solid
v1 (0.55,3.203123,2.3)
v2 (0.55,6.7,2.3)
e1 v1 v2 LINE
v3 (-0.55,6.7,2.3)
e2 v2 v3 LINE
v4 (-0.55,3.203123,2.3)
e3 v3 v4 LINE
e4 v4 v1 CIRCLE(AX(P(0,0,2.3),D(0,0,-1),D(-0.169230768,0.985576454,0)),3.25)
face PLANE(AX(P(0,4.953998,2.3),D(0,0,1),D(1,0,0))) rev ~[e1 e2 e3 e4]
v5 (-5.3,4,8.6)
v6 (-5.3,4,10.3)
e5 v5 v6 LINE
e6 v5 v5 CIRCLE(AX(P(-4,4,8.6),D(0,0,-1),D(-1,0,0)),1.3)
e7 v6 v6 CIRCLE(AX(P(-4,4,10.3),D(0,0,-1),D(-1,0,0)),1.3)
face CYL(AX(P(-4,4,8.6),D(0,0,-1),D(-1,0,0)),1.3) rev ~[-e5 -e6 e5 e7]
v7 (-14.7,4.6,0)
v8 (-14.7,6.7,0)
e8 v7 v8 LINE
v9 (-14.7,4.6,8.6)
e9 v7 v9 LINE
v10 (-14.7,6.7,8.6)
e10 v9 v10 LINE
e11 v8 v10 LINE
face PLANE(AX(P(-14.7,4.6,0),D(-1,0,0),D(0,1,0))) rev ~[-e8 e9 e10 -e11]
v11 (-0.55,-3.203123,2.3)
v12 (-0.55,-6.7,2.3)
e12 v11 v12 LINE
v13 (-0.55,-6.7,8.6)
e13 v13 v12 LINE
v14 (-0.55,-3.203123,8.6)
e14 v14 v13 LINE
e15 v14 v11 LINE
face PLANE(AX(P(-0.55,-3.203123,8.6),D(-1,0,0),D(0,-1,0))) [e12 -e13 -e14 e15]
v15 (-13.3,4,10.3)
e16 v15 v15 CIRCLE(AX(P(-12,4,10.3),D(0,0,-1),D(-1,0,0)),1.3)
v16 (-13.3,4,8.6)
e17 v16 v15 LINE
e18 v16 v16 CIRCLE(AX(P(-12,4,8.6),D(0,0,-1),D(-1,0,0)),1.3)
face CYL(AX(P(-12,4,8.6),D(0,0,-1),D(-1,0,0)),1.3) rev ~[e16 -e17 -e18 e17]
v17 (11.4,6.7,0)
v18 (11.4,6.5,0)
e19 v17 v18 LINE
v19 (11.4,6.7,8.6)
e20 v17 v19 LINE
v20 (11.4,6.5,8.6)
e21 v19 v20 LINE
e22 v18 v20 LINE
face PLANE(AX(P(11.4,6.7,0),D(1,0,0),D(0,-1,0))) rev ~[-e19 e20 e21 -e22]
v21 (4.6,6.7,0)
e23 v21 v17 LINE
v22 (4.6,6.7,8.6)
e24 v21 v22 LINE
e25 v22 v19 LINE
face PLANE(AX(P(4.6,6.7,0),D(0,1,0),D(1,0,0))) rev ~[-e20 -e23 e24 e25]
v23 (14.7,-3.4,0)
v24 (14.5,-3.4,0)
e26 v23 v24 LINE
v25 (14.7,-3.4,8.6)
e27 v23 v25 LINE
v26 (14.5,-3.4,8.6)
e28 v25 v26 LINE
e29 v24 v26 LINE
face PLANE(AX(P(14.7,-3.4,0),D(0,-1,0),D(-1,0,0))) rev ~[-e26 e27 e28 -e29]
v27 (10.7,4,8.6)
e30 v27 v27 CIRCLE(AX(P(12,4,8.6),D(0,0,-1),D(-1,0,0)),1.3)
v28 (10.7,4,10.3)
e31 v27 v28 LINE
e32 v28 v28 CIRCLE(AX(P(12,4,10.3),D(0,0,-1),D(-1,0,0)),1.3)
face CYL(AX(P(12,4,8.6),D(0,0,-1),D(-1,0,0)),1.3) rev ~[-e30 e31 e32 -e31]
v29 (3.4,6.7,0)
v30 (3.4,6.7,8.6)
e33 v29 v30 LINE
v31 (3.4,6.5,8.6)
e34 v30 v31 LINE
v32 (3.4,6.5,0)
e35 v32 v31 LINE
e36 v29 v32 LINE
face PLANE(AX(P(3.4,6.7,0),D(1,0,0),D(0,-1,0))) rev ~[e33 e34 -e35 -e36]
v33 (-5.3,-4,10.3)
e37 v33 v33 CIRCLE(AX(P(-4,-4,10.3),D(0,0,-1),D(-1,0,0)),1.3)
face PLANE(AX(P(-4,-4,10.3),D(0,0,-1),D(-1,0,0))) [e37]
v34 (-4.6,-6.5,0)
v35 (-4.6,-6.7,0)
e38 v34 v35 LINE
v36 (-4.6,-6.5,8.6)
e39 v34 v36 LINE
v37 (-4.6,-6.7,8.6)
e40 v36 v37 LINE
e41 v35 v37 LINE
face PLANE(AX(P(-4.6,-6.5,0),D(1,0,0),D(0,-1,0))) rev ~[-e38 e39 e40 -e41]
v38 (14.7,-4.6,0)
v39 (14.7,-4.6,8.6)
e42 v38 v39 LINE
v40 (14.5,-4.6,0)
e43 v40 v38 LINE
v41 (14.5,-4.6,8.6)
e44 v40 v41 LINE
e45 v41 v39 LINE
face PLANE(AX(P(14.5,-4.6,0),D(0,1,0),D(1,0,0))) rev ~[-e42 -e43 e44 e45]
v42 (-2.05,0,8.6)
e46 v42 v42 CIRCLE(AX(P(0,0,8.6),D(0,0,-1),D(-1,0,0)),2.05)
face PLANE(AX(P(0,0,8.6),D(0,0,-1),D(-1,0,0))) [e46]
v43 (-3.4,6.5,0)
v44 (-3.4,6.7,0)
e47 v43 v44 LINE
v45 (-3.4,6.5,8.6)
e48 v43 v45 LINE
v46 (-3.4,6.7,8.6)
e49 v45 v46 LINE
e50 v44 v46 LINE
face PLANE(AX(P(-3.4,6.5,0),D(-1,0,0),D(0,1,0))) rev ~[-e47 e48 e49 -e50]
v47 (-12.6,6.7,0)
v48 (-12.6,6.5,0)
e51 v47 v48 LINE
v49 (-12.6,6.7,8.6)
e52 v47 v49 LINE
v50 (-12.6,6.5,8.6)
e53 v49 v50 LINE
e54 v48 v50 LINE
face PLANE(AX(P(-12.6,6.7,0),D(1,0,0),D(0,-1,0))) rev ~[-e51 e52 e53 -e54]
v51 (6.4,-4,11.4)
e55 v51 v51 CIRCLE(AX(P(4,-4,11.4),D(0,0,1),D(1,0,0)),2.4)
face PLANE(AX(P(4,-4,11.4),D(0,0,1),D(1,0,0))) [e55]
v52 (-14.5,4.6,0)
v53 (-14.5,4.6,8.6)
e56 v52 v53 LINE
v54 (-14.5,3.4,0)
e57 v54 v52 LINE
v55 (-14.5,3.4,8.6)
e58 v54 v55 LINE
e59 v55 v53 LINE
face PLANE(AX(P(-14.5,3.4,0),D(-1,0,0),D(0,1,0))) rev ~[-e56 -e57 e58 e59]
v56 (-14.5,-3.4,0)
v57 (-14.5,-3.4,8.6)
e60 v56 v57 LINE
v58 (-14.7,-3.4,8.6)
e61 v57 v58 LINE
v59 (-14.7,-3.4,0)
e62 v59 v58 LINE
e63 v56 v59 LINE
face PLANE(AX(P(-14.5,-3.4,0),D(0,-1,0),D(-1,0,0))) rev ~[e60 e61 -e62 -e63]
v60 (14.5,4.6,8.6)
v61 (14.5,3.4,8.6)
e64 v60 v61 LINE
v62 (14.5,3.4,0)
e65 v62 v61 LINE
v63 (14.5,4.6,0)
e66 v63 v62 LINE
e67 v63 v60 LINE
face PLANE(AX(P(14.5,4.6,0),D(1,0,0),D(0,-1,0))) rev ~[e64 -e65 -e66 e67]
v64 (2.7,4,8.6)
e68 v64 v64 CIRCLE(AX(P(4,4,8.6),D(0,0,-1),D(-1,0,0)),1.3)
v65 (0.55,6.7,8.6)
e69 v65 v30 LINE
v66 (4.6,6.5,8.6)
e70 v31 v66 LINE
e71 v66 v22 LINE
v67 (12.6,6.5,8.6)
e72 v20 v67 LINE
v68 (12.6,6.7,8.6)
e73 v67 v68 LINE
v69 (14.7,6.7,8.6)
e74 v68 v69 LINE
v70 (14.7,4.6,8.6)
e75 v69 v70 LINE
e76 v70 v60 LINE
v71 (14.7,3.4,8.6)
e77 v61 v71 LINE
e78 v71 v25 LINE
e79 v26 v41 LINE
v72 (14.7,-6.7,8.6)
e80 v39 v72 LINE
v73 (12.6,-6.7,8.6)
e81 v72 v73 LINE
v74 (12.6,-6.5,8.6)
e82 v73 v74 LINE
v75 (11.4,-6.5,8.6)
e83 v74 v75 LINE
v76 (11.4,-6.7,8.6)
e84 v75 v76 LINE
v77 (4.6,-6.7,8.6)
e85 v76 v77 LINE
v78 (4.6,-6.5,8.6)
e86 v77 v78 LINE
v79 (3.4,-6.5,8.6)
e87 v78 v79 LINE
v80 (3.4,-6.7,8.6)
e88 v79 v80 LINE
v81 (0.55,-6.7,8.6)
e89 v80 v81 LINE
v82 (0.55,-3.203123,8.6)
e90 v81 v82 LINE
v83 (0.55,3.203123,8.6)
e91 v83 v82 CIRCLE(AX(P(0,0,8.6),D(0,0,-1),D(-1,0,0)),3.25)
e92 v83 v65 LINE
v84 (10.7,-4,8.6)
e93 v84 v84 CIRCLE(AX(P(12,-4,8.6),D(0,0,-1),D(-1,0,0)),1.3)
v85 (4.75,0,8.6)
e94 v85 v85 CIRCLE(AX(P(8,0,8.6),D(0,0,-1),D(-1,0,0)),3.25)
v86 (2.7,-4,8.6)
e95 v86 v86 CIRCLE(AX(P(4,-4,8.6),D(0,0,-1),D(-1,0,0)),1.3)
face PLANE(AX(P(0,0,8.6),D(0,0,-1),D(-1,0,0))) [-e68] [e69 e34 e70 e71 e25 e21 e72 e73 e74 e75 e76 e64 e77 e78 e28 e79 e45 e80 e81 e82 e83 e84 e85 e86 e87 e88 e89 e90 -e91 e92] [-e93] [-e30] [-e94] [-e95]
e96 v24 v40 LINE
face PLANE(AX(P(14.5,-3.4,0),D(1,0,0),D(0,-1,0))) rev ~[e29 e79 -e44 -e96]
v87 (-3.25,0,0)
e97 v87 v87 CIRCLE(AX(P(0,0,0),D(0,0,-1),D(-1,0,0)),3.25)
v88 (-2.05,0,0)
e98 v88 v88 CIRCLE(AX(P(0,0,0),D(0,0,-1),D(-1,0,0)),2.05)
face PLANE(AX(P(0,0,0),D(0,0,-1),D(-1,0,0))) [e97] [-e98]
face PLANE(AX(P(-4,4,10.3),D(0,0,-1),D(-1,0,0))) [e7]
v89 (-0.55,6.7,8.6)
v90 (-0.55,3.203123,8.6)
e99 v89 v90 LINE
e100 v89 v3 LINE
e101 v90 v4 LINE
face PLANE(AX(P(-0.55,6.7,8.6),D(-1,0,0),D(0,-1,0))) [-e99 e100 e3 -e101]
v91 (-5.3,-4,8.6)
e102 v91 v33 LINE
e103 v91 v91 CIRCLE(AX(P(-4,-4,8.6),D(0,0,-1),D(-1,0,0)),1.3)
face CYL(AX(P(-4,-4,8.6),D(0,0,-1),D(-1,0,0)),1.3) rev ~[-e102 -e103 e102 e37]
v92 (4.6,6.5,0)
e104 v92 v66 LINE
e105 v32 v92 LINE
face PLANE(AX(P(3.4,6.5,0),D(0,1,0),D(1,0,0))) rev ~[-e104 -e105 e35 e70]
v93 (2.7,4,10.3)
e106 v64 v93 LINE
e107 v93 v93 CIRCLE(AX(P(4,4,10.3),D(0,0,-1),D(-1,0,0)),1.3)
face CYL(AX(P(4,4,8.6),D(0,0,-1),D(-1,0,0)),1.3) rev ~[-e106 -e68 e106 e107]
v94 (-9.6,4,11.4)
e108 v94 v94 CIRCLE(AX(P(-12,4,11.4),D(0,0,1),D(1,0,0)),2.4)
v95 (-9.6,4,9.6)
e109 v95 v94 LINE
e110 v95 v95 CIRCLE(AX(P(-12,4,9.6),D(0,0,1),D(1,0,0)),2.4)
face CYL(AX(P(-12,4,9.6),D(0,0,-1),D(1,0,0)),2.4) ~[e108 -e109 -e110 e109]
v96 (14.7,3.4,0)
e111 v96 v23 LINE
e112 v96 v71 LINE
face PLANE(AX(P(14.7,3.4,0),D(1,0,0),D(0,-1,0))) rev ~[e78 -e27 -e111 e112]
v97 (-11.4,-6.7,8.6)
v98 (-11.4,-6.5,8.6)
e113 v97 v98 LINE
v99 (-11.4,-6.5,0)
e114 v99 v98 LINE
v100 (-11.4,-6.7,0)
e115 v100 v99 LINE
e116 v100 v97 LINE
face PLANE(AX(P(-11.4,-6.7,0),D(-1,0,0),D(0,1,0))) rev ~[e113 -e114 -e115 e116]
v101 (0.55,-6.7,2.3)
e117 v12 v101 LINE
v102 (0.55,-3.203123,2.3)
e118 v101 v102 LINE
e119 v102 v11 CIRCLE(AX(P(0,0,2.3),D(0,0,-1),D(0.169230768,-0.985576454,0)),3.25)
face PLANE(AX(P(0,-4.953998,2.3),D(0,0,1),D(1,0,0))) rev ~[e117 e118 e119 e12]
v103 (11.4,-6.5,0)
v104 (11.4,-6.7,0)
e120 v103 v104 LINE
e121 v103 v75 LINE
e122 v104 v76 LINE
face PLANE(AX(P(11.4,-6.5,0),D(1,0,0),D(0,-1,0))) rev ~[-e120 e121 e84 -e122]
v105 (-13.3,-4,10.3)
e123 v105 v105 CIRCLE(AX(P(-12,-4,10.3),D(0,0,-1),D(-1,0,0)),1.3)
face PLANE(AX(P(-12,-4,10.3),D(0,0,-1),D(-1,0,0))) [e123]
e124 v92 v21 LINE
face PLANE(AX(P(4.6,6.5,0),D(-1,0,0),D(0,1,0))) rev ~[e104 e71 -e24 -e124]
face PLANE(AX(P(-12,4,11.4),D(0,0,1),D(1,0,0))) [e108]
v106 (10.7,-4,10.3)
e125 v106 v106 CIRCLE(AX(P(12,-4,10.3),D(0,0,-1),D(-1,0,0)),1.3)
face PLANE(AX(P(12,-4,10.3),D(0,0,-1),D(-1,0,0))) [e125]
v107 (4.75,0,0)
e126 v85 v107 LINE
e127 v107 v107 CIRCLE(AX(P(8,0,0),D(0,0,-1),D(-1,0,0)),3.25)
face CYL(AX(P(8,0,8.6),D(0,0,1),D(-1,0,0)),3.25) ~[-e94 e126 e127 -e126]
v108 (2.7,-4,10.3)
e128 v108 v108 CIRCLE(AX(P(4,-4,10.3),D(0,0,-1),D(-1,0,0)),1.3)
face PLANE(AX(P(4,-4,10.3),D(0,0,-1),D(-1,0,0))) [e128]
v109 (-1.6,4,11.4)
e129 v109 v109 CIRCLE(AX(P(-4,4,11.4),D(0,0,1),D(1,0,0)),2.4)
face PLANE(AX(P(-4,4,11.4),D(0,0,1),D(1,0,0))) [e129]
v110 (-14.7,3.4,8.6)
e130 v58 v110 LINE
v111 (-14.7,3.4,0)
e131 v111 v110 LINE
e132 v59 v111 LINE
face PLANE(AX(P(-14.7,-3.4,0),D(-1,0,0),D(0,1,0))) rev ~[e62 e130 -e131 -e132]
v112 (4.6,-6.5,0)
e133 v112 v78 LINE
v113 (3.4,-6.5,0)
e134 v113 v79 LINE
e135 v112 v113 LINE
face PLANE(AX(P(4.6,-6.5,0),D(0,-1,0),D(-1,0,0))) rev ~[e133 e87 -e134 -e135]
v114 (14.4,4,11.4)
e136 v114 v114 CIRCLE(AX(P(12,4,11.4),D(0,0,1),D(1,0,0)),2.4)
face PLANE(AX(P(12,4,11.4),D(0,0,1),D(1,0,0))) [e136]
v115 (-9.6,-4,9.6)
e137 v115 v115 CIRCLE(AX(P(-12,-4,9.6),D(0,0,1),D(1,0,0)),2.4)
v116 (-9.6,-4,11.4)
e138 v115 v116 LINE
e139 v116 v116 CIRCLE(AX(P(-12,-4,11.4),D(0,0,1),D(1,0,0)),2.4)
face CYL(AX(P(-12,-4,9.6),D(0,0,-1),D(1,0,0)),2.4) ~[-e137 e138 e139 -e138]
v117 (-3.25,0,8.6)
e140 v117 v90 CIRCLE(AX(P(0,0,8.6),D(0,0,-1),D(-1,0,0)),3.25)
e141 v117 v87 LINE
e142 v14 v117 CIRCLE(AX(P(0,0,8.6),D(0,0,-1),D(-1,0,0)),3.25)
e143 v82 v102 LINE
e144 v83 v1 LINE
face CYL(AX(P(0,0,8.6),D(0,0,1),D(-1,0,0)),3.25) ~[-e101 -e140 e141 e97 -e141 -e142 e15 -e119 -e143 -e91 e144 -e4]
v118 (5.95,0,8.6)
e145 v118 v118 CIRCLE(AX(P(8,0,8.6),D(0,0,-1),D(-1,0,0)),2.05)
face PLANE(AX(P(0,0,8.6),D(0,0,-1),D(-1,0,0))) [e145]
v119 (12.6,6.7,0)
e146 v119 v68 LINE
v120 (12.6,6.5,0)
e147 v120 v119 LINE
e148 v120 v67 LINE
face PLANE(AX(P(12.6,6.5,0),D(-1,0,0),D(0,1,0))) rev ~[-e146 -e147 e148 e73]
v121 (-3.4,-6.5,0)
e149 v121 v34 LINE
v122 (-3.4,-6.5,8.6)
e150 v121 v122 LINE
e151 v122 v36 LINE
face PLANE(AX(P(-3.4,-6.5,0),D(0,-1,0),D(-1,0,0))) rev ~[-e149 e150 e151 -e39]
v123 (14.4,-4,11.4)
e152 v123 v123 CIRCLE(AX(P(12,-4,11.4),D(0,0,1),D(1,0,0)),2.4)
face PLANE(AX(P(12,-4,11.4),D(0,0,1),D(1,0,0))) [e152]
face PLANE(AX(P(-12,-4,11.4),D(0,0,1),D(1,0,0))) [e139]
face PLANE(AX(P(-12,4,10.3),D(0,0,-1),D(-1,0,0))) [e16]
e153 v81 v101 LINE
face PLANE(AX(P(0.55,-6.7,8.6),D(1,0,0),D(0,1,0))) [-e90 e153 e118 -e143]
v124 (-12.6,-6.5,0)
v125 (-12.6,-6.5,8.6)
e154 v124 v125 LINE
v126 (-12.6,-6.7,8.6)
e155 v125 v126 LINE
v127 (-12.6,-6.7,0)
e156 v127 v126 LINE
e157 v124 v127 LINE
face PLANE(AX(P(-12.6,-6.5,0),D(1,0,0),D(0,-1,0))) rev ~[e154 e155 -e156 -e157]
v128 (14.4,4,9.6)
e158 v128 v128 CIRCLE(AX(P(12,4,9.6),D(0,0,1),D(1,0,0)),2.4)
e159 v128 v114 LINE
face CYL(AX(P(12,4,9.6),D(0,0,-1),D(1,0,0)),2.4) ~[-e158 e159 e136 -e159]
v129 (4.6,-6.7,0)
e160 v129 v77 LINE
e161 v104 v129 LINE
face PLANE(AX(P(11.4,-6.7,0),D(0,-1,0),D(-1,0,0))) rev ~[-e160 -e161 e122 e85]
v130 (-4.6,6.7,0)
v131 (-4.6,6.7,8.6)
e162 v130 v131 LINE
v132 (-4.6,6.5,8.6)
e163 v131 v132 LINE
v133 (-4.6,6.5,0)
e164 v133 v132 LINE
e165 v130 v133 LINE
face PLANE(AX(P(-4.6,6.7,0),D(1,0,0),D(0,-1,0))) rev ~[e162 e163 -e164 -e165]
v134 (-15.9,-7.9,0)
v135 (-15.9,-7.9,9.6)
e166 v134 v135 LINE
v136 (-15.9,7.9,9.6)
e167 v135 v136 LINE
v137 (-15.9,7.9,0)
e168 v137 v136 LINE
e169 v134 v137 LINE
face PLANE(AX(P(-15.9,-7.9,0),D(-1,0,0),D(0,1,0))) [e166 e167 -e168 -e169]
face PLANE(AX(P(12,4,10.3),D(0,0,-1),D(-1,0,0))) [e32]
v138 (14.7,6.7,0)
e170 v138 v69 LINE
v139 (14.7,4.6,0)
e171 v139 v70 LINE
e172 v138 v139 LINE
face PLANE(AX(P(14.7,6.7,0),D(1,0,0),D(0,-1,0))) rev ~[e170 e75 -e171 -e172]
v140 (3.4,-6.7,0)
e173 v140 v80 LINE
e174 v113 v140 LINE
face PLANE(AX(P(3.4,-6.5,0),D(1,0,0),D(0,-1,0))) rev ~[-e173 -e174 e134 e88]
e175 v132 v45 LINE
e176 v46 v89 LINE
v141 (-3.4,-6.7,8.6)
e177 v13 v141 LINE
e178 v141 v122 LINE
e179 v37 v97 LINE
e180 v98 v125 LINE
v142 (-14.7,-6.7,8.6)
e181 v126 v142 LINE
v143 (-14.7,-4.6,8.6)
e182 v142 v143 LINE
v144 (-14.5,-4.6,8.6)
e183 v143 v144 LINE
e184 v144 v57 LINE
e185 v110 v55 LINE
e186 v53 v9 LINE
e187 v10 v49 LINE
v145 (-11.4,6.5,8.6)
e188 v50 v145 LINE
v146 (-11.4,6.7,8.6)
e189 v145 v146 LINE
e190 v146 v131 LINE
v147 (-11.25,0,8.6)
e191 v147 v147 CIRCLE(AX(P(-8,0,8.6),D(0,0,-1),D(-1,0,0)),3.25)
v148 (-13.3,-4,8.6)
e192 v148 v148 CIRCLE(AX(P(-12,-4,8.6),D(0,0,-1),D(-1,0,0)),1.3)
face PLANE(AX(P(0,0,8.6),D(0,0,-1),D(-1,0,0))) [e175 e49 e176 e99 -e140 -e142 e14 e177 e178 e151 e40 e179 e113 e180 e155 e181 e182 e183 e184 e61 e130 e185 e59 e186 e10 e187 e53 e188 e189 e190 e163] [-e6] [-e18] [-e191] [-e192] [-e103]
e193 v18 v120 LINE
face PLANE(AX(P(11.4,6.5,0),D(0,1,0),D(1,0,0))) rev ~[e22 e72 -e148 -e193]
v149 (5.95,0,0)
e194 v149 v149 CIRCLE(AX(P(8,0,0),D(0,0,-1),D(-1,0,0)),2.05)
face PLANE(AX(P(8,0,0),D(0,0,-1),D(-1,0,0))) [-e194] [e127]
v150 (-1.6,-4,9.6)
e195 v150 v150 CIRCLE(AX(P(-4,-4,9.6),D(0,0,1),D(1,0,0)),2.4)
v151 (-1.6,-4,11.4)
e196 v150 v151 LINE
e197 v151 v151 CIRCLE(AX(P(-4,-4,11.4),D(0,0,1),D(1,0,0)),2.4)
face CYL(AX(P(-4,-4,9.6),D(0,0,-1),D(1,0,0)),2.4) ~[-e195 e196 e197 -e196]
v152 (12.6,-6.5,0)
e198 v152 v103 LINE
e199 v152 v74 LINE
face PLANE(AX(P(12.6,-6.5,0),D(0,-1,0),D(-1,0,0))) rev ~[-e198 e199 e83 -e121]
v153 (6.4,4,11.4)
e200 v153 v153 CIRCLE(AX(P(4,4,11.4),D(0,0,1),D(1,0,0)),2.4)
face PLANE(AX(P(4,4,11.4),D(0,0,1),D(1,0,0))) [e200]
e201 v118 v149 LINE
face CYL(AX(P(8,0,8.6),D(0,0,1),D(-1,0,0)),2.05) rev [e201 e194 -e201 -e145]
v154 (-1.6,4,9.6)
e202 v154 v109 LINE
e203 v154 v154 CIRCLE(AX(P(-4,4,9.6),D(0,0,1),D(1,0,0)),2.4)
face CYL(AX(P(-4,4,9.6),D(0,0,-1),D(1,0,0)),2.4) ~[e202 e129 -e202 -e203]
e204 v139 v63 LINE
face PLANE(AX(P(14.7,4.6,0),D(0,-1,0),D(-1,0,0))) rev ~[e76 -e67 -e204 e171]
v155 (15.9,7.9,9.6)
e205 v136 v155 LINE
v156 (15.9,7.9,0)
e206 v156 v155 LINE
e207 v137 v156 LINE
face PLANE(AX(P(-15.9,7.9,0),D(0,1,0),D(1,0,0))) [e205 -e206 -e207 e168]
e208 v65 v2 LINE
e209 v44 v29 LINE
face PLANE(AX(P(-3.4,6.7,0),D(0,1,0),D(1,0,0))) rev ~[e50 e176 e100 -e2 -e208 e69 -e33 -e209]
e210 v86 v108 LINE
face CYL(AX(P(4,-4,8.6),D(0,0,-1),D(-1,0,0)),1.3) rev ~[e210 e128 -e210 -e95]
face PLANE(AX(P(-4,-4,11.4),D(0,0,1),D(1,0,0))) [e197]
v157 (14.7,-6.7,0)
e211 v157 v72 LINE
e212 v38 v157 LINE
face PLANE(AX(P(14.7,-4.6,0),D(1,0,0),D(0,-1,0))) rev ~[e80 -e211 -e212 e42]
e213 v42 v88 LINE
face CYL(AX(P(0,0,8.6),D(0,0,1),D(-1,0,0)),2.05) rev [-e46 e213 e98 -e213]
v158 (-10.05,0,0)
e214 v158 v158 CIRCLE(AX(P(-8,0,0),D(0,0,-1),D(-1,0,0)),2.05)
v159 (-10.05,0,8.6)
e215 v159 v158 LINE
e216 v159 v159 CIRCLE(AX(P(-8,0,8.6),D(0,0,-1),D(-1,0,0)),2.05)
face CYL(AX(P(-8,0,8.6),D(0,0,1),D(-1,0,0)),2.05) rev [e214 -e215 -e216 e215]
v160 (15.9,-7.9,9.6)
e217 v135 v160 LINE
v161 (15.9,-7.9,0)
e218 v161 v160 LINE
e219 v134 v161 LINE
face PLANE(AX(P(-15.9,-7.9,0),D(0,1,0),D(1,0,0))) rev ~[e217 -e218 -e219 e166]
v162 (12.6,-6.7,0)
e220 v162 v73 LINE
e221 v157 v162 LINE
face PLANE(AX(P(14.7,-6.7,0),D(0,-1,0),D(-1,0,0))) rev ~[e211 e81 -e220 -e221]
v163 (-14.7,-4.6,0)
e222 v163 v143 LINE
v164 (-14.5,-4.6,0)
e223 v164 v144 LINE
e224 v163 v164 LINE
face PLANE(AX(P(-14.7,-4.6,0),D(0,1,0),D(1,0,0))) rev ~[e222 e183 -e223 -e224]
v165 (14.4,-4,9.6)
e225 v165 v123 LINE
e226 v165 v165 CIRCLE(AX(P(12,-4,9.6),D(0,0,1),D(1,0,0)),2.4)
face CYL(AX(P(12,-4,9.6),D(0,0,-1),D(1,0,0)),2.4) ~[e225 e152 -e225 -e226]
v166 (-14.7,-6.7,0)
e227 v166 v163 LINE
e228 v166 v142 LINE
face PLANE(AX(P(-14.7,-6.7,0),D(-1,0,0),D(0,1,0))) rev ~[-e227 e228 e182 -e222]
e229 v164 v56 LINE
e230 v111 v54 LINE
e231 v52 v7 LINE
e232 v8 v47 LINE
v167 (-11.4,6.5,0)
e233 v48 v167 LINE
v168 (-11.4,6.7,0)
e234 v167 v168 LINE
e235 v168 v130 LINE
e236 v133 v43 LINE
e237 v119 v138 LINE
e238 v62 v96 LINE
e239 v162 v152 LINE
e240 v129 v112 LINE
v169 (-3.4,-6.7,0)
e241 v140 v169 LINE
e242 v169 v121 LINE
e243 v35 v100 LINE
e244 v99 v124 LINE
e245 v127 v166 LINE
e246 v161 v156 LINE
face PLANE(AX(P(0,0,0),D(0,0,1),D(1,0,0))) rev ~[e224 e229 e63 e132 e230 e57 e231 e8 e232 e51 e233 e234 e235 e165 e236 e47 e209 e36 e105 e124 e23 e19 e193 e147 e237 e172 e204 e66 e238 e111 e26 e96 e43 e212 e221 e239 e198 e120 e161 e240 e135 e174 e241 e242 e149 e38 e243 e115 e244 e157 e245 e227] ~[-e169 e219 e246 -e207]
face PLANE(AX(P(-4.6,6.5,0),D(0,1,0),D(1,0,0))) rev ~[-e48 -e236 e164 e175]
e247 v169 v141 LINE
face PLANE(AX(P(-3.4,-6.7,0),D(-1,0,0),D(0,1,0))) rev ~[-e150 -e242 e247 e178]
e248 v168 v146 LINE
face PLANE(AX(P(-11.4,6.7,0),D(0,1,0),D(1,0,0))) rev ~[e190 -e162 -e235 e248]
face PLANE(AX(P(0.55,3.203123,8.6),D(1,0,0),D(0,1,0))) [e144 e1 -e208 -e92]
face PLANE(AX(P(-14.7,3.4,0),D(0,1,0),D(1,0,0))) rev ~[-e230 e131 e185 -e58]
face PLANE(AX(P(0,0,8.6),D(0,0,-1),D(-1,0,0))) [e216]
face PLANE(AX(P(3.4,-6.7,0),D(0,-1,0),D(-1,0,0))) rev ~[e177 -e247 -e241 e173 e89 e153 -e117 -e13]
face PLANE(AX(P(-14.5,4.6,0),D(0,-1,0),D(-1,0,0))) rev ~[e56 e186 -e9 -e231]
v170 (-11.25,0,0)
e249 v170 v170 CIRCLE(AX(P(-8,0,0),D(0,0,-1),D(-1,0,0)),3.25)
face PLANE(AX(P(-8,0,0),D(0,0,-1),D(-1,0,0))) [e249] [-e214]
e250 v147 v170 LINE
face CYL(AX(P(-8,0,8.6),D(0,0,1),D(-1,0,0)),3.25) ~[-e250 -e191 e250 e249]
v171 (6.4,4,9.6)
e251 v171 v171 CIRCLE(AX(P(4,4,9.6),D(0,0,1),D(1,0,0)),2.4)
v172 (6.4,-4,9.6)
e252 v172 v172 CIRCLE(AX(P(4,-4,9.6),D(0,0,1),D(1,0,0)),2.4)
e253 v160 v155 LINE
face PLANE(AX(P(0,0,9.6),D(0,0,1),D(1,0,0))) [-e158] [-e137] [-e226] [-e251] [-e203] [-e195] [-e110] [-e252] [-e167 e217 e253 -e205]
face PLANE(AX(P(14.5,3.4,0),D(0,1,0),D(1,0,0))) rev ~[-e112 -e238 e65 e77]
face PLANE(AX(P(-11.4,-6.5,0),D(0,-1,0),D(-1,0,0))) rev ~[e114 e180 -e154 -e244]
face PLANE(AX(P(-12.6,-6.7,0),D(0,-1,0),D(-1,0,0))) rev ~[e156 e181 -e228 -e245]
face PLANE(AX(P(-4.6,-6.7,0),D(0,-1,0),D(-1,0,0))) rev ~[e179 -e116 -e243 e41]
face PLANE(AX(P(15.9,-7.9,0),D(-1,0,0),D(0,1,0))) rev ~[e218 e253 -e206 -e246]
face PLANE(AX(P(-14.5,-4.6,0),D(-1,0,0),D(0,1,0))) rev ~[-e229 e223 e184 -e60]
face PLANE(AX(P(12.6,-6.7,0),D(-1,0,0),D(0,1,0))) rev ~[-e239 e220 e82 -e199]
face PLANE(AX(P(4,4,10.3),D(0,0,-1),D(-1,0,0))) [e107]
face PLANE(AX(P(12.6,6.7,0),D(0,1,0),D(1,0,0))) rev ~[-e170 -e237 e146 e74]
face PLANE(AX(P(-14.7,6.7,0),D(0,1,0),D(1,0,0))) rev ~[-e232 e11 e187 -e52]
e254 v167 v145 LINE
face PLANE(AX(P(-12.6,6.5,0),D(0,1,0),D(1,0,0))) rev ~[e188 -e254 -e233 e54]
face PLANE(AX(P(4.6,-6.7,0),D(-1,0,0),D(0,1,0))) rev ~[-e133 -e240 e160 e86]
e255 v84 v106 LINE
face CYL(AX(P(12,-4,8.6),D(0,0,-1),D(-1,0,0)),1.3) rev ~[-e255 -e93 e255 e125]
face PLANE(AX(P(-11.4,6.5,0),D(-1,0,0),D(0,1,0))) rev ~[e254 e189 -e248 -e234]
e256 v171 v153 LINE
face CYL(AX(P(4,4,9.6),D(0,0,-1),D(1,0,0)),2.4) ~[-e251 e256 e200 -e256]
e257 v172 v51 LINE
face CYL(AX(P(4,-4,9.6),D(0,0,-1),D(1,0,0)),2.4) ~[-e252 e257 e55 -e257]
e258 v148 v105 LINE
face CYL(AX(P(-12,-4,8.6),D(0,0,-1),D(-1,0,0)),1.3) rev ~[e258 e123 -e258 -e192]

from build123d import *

# Parameters (mm, degrees)
SKETCH1_W           = 31.8
SKETCH1_H           = 15.8
BOSS_EXTRUDE1_DEPTH = 9.6
SKETCH2_R           = 2.4
BOSS_EXTRUDE2_DEPTH = 1.8
CUT_EXTRUDE3_DEPTH  = 8.6
SKETCH7_R           = 1.3
CUT_EXTRUDE4_DEPTH  = 1.7
SKETCH8_R           = 3.25
SKETCH8_R_2         = 2.05
BOSS_EXTRUDE4_DEPTH = 8.6
BOSS_EXTRUDE5_DEPTH = 6.3


with BuildPart() as part:
    # Sketch1 → Boss-Extrude1 (new body)
    with BuildSketch(Plane.XY):
        Rectangle(SKETCH1_W, SKETCH1_H)
    extrude(amount=BOSS_EXTRUDE1_DEPTH)

    # Sketch2 → Boss-Extrude2 (add)
    with BuildSketch(Plane.XY.offset(9.6)):
        with Locations((-12, 4)):
            Circle(SKETCH2_R)
        with Locations((-4, 4)):
            Circle(SKETCH2_R)
        with Locations((4, 4)):
            Circle(SKETCH2_R)
        with Locations((12, 4)):
            Circle(SKETCH2_R)
        with Locations((-4, -4)):
            Circle(SKETCH2_R)
        with Locations((4, -4)):
            Circle(SKETCH2_R)
        with Locations((12, -4)):
            Circle(SKETCH2_R)
        with Locations((-12, -4)):
            Circle(SKETCH2_R)
    extrude(amount=BOSS_EXTRUDE2_DEPTH)

    # Sketch6 → Cut-Extrude3 (cut)
    with BuildSketch(Plane(origin=(0, 0, 0), x_dir=(-1, 0, 0), z_dir=(0, 0, -1))):
        Polygon((-14.7, -4.6), (-14.7, -6.7), (-12.6, -6.7), (-12.6, -6.5), (-11.4, -6.5), (-11.4, -6.7), (-4.6, -6.7), (-4.6, -6.5), (-3.4, -6.5), (-3.4, -6.7), (3.4, -6.7), (3.4, -6.5), (4.6, -6.5), (4.6, -6.7), (11.4, -6.7), (11.4, -6.5), (12.6, -6.5), (12.6, -6.7), (14.7, -6.7), (14.7, -4.6), (14.5, -4.6), (14.5, -3.4), (14.7, -3.4), (14.7, 3.4), (14.5, 3.4), (14.5, 4.6), (14.7, 4.6), (14.7, 6.7), (12.6, 6.7), (12.6, 6.5), (11.4, 6.5), (11.4, 6.7), (4.6, 6.7), (4.6, 6.5), (3.4, 6.5), (3.4, 6.7), (-3.4, 6.7), (-3.4, 6.5), (-4.6, 6.5), (-4.6, 6.7), (-11.4, 6.7), (-11.4, 6.5), (-12.6, 6.5), (-12.6, 6.7), (-14.7, 6.7), (-14.7, 4.6), (-14.5, 4.6), (-14.5, 3.4), (-14.7, 3.4), (-14.7, -3.4), (-14.5, -3.4), (-14.5, -4.6), align=None)
    extrude(amount=-CUT_EXTRUDE3_DEPTH, mode=Mode.SUBTRACT)

    # Sketch7 → Cut-Extrude4 (cut)
    with BuildSketch(Plane(origin=(0, 0, 8.6), x_dir=(-1, 0, 0), z_dir=(0, 0, -1))):
        with Locations((-12, 4)):
            Circle(SKETCH7_R)
        with Locations((-4, 4)):
            Circle(SKETCH7_R)
        with Locations((4, 4)):
            Circle(SKETCH7_R)
        with Locations((12, 4)):
            Circle(SKETCH7_R)
        with Locations((-4, -4)):
            Circle(SKETCH7_R)
        with Locations((4, -4)):
            Circle(SKETCH7_R)
        with Locations((12, -4)):
            Circle(SKETCH7_R)
        with Locations((-12, -4)):
            Circle(SKETCH7_R)
    extrude(amount=-CUT_EXTRUDE4_DEPTH, mode=Mode.SUBTRACT)

    # Sketch8 → Boss-Extrude4 (add)
    with BuildSketch(Plane(origin=(0, 0, 8.6), x_dir=(-1, 0, 0), z_dir=(0, 0, -1))):
        with Locations((-8, 0)):
            Circle(SKETCH8_R)
        with Locations((-8, 0)):
            Circle(SKETCH8_R_2, mode=Mode.SUBTRACT)
        Circle(SKETCH8_R)
        Circle(SKETCH8_R_2, mode=Mode.SUBTRACT)
        with Locations((8, 0)):
            Circle(SKETCH8_R)
        with Locations((8, 0)):
            Circle(SKETCH8_R_2, mode=Mode.SUBTRACT)
    extrude(amount=BOSS_EXTRUDE4_DEPTH)

    # Sketch9 → Boss-Extrude5 (add)
    with BuildSketch(Plane(origin=(0, 0, 8.6), x_dir=(-1, 0, 0), z_dir=(0, 0, -1))):
        with BuildLine():
            ThreePointArc((0.55, 3.203123476), (0, 3.25), (-0.55, 3.203123476))
            Line((-0.55, 3.203123476), (-0.55, 6.7))
            Line((-0.55, 6.7), (0.55, 6.7))
            Line((0.55, 6.7), (0.55, 3.203123476))
        make_face()
        with BuildLine():
            ThreePointArc((-0.55, -3.203123476), (0, -3.25), (0.55, -3.203123476))
            Line((0.55, -3.203123476), (0.55, -6.7))
            Line((0.55, -6.7), (-0.55, -6.7))
            Line((-0.55, -6.7), (-0.55, -3.203123476))
        make_face()
    extrude(amount=BOSS_EXTRUDE5_DEPTH)


solid = part.part
